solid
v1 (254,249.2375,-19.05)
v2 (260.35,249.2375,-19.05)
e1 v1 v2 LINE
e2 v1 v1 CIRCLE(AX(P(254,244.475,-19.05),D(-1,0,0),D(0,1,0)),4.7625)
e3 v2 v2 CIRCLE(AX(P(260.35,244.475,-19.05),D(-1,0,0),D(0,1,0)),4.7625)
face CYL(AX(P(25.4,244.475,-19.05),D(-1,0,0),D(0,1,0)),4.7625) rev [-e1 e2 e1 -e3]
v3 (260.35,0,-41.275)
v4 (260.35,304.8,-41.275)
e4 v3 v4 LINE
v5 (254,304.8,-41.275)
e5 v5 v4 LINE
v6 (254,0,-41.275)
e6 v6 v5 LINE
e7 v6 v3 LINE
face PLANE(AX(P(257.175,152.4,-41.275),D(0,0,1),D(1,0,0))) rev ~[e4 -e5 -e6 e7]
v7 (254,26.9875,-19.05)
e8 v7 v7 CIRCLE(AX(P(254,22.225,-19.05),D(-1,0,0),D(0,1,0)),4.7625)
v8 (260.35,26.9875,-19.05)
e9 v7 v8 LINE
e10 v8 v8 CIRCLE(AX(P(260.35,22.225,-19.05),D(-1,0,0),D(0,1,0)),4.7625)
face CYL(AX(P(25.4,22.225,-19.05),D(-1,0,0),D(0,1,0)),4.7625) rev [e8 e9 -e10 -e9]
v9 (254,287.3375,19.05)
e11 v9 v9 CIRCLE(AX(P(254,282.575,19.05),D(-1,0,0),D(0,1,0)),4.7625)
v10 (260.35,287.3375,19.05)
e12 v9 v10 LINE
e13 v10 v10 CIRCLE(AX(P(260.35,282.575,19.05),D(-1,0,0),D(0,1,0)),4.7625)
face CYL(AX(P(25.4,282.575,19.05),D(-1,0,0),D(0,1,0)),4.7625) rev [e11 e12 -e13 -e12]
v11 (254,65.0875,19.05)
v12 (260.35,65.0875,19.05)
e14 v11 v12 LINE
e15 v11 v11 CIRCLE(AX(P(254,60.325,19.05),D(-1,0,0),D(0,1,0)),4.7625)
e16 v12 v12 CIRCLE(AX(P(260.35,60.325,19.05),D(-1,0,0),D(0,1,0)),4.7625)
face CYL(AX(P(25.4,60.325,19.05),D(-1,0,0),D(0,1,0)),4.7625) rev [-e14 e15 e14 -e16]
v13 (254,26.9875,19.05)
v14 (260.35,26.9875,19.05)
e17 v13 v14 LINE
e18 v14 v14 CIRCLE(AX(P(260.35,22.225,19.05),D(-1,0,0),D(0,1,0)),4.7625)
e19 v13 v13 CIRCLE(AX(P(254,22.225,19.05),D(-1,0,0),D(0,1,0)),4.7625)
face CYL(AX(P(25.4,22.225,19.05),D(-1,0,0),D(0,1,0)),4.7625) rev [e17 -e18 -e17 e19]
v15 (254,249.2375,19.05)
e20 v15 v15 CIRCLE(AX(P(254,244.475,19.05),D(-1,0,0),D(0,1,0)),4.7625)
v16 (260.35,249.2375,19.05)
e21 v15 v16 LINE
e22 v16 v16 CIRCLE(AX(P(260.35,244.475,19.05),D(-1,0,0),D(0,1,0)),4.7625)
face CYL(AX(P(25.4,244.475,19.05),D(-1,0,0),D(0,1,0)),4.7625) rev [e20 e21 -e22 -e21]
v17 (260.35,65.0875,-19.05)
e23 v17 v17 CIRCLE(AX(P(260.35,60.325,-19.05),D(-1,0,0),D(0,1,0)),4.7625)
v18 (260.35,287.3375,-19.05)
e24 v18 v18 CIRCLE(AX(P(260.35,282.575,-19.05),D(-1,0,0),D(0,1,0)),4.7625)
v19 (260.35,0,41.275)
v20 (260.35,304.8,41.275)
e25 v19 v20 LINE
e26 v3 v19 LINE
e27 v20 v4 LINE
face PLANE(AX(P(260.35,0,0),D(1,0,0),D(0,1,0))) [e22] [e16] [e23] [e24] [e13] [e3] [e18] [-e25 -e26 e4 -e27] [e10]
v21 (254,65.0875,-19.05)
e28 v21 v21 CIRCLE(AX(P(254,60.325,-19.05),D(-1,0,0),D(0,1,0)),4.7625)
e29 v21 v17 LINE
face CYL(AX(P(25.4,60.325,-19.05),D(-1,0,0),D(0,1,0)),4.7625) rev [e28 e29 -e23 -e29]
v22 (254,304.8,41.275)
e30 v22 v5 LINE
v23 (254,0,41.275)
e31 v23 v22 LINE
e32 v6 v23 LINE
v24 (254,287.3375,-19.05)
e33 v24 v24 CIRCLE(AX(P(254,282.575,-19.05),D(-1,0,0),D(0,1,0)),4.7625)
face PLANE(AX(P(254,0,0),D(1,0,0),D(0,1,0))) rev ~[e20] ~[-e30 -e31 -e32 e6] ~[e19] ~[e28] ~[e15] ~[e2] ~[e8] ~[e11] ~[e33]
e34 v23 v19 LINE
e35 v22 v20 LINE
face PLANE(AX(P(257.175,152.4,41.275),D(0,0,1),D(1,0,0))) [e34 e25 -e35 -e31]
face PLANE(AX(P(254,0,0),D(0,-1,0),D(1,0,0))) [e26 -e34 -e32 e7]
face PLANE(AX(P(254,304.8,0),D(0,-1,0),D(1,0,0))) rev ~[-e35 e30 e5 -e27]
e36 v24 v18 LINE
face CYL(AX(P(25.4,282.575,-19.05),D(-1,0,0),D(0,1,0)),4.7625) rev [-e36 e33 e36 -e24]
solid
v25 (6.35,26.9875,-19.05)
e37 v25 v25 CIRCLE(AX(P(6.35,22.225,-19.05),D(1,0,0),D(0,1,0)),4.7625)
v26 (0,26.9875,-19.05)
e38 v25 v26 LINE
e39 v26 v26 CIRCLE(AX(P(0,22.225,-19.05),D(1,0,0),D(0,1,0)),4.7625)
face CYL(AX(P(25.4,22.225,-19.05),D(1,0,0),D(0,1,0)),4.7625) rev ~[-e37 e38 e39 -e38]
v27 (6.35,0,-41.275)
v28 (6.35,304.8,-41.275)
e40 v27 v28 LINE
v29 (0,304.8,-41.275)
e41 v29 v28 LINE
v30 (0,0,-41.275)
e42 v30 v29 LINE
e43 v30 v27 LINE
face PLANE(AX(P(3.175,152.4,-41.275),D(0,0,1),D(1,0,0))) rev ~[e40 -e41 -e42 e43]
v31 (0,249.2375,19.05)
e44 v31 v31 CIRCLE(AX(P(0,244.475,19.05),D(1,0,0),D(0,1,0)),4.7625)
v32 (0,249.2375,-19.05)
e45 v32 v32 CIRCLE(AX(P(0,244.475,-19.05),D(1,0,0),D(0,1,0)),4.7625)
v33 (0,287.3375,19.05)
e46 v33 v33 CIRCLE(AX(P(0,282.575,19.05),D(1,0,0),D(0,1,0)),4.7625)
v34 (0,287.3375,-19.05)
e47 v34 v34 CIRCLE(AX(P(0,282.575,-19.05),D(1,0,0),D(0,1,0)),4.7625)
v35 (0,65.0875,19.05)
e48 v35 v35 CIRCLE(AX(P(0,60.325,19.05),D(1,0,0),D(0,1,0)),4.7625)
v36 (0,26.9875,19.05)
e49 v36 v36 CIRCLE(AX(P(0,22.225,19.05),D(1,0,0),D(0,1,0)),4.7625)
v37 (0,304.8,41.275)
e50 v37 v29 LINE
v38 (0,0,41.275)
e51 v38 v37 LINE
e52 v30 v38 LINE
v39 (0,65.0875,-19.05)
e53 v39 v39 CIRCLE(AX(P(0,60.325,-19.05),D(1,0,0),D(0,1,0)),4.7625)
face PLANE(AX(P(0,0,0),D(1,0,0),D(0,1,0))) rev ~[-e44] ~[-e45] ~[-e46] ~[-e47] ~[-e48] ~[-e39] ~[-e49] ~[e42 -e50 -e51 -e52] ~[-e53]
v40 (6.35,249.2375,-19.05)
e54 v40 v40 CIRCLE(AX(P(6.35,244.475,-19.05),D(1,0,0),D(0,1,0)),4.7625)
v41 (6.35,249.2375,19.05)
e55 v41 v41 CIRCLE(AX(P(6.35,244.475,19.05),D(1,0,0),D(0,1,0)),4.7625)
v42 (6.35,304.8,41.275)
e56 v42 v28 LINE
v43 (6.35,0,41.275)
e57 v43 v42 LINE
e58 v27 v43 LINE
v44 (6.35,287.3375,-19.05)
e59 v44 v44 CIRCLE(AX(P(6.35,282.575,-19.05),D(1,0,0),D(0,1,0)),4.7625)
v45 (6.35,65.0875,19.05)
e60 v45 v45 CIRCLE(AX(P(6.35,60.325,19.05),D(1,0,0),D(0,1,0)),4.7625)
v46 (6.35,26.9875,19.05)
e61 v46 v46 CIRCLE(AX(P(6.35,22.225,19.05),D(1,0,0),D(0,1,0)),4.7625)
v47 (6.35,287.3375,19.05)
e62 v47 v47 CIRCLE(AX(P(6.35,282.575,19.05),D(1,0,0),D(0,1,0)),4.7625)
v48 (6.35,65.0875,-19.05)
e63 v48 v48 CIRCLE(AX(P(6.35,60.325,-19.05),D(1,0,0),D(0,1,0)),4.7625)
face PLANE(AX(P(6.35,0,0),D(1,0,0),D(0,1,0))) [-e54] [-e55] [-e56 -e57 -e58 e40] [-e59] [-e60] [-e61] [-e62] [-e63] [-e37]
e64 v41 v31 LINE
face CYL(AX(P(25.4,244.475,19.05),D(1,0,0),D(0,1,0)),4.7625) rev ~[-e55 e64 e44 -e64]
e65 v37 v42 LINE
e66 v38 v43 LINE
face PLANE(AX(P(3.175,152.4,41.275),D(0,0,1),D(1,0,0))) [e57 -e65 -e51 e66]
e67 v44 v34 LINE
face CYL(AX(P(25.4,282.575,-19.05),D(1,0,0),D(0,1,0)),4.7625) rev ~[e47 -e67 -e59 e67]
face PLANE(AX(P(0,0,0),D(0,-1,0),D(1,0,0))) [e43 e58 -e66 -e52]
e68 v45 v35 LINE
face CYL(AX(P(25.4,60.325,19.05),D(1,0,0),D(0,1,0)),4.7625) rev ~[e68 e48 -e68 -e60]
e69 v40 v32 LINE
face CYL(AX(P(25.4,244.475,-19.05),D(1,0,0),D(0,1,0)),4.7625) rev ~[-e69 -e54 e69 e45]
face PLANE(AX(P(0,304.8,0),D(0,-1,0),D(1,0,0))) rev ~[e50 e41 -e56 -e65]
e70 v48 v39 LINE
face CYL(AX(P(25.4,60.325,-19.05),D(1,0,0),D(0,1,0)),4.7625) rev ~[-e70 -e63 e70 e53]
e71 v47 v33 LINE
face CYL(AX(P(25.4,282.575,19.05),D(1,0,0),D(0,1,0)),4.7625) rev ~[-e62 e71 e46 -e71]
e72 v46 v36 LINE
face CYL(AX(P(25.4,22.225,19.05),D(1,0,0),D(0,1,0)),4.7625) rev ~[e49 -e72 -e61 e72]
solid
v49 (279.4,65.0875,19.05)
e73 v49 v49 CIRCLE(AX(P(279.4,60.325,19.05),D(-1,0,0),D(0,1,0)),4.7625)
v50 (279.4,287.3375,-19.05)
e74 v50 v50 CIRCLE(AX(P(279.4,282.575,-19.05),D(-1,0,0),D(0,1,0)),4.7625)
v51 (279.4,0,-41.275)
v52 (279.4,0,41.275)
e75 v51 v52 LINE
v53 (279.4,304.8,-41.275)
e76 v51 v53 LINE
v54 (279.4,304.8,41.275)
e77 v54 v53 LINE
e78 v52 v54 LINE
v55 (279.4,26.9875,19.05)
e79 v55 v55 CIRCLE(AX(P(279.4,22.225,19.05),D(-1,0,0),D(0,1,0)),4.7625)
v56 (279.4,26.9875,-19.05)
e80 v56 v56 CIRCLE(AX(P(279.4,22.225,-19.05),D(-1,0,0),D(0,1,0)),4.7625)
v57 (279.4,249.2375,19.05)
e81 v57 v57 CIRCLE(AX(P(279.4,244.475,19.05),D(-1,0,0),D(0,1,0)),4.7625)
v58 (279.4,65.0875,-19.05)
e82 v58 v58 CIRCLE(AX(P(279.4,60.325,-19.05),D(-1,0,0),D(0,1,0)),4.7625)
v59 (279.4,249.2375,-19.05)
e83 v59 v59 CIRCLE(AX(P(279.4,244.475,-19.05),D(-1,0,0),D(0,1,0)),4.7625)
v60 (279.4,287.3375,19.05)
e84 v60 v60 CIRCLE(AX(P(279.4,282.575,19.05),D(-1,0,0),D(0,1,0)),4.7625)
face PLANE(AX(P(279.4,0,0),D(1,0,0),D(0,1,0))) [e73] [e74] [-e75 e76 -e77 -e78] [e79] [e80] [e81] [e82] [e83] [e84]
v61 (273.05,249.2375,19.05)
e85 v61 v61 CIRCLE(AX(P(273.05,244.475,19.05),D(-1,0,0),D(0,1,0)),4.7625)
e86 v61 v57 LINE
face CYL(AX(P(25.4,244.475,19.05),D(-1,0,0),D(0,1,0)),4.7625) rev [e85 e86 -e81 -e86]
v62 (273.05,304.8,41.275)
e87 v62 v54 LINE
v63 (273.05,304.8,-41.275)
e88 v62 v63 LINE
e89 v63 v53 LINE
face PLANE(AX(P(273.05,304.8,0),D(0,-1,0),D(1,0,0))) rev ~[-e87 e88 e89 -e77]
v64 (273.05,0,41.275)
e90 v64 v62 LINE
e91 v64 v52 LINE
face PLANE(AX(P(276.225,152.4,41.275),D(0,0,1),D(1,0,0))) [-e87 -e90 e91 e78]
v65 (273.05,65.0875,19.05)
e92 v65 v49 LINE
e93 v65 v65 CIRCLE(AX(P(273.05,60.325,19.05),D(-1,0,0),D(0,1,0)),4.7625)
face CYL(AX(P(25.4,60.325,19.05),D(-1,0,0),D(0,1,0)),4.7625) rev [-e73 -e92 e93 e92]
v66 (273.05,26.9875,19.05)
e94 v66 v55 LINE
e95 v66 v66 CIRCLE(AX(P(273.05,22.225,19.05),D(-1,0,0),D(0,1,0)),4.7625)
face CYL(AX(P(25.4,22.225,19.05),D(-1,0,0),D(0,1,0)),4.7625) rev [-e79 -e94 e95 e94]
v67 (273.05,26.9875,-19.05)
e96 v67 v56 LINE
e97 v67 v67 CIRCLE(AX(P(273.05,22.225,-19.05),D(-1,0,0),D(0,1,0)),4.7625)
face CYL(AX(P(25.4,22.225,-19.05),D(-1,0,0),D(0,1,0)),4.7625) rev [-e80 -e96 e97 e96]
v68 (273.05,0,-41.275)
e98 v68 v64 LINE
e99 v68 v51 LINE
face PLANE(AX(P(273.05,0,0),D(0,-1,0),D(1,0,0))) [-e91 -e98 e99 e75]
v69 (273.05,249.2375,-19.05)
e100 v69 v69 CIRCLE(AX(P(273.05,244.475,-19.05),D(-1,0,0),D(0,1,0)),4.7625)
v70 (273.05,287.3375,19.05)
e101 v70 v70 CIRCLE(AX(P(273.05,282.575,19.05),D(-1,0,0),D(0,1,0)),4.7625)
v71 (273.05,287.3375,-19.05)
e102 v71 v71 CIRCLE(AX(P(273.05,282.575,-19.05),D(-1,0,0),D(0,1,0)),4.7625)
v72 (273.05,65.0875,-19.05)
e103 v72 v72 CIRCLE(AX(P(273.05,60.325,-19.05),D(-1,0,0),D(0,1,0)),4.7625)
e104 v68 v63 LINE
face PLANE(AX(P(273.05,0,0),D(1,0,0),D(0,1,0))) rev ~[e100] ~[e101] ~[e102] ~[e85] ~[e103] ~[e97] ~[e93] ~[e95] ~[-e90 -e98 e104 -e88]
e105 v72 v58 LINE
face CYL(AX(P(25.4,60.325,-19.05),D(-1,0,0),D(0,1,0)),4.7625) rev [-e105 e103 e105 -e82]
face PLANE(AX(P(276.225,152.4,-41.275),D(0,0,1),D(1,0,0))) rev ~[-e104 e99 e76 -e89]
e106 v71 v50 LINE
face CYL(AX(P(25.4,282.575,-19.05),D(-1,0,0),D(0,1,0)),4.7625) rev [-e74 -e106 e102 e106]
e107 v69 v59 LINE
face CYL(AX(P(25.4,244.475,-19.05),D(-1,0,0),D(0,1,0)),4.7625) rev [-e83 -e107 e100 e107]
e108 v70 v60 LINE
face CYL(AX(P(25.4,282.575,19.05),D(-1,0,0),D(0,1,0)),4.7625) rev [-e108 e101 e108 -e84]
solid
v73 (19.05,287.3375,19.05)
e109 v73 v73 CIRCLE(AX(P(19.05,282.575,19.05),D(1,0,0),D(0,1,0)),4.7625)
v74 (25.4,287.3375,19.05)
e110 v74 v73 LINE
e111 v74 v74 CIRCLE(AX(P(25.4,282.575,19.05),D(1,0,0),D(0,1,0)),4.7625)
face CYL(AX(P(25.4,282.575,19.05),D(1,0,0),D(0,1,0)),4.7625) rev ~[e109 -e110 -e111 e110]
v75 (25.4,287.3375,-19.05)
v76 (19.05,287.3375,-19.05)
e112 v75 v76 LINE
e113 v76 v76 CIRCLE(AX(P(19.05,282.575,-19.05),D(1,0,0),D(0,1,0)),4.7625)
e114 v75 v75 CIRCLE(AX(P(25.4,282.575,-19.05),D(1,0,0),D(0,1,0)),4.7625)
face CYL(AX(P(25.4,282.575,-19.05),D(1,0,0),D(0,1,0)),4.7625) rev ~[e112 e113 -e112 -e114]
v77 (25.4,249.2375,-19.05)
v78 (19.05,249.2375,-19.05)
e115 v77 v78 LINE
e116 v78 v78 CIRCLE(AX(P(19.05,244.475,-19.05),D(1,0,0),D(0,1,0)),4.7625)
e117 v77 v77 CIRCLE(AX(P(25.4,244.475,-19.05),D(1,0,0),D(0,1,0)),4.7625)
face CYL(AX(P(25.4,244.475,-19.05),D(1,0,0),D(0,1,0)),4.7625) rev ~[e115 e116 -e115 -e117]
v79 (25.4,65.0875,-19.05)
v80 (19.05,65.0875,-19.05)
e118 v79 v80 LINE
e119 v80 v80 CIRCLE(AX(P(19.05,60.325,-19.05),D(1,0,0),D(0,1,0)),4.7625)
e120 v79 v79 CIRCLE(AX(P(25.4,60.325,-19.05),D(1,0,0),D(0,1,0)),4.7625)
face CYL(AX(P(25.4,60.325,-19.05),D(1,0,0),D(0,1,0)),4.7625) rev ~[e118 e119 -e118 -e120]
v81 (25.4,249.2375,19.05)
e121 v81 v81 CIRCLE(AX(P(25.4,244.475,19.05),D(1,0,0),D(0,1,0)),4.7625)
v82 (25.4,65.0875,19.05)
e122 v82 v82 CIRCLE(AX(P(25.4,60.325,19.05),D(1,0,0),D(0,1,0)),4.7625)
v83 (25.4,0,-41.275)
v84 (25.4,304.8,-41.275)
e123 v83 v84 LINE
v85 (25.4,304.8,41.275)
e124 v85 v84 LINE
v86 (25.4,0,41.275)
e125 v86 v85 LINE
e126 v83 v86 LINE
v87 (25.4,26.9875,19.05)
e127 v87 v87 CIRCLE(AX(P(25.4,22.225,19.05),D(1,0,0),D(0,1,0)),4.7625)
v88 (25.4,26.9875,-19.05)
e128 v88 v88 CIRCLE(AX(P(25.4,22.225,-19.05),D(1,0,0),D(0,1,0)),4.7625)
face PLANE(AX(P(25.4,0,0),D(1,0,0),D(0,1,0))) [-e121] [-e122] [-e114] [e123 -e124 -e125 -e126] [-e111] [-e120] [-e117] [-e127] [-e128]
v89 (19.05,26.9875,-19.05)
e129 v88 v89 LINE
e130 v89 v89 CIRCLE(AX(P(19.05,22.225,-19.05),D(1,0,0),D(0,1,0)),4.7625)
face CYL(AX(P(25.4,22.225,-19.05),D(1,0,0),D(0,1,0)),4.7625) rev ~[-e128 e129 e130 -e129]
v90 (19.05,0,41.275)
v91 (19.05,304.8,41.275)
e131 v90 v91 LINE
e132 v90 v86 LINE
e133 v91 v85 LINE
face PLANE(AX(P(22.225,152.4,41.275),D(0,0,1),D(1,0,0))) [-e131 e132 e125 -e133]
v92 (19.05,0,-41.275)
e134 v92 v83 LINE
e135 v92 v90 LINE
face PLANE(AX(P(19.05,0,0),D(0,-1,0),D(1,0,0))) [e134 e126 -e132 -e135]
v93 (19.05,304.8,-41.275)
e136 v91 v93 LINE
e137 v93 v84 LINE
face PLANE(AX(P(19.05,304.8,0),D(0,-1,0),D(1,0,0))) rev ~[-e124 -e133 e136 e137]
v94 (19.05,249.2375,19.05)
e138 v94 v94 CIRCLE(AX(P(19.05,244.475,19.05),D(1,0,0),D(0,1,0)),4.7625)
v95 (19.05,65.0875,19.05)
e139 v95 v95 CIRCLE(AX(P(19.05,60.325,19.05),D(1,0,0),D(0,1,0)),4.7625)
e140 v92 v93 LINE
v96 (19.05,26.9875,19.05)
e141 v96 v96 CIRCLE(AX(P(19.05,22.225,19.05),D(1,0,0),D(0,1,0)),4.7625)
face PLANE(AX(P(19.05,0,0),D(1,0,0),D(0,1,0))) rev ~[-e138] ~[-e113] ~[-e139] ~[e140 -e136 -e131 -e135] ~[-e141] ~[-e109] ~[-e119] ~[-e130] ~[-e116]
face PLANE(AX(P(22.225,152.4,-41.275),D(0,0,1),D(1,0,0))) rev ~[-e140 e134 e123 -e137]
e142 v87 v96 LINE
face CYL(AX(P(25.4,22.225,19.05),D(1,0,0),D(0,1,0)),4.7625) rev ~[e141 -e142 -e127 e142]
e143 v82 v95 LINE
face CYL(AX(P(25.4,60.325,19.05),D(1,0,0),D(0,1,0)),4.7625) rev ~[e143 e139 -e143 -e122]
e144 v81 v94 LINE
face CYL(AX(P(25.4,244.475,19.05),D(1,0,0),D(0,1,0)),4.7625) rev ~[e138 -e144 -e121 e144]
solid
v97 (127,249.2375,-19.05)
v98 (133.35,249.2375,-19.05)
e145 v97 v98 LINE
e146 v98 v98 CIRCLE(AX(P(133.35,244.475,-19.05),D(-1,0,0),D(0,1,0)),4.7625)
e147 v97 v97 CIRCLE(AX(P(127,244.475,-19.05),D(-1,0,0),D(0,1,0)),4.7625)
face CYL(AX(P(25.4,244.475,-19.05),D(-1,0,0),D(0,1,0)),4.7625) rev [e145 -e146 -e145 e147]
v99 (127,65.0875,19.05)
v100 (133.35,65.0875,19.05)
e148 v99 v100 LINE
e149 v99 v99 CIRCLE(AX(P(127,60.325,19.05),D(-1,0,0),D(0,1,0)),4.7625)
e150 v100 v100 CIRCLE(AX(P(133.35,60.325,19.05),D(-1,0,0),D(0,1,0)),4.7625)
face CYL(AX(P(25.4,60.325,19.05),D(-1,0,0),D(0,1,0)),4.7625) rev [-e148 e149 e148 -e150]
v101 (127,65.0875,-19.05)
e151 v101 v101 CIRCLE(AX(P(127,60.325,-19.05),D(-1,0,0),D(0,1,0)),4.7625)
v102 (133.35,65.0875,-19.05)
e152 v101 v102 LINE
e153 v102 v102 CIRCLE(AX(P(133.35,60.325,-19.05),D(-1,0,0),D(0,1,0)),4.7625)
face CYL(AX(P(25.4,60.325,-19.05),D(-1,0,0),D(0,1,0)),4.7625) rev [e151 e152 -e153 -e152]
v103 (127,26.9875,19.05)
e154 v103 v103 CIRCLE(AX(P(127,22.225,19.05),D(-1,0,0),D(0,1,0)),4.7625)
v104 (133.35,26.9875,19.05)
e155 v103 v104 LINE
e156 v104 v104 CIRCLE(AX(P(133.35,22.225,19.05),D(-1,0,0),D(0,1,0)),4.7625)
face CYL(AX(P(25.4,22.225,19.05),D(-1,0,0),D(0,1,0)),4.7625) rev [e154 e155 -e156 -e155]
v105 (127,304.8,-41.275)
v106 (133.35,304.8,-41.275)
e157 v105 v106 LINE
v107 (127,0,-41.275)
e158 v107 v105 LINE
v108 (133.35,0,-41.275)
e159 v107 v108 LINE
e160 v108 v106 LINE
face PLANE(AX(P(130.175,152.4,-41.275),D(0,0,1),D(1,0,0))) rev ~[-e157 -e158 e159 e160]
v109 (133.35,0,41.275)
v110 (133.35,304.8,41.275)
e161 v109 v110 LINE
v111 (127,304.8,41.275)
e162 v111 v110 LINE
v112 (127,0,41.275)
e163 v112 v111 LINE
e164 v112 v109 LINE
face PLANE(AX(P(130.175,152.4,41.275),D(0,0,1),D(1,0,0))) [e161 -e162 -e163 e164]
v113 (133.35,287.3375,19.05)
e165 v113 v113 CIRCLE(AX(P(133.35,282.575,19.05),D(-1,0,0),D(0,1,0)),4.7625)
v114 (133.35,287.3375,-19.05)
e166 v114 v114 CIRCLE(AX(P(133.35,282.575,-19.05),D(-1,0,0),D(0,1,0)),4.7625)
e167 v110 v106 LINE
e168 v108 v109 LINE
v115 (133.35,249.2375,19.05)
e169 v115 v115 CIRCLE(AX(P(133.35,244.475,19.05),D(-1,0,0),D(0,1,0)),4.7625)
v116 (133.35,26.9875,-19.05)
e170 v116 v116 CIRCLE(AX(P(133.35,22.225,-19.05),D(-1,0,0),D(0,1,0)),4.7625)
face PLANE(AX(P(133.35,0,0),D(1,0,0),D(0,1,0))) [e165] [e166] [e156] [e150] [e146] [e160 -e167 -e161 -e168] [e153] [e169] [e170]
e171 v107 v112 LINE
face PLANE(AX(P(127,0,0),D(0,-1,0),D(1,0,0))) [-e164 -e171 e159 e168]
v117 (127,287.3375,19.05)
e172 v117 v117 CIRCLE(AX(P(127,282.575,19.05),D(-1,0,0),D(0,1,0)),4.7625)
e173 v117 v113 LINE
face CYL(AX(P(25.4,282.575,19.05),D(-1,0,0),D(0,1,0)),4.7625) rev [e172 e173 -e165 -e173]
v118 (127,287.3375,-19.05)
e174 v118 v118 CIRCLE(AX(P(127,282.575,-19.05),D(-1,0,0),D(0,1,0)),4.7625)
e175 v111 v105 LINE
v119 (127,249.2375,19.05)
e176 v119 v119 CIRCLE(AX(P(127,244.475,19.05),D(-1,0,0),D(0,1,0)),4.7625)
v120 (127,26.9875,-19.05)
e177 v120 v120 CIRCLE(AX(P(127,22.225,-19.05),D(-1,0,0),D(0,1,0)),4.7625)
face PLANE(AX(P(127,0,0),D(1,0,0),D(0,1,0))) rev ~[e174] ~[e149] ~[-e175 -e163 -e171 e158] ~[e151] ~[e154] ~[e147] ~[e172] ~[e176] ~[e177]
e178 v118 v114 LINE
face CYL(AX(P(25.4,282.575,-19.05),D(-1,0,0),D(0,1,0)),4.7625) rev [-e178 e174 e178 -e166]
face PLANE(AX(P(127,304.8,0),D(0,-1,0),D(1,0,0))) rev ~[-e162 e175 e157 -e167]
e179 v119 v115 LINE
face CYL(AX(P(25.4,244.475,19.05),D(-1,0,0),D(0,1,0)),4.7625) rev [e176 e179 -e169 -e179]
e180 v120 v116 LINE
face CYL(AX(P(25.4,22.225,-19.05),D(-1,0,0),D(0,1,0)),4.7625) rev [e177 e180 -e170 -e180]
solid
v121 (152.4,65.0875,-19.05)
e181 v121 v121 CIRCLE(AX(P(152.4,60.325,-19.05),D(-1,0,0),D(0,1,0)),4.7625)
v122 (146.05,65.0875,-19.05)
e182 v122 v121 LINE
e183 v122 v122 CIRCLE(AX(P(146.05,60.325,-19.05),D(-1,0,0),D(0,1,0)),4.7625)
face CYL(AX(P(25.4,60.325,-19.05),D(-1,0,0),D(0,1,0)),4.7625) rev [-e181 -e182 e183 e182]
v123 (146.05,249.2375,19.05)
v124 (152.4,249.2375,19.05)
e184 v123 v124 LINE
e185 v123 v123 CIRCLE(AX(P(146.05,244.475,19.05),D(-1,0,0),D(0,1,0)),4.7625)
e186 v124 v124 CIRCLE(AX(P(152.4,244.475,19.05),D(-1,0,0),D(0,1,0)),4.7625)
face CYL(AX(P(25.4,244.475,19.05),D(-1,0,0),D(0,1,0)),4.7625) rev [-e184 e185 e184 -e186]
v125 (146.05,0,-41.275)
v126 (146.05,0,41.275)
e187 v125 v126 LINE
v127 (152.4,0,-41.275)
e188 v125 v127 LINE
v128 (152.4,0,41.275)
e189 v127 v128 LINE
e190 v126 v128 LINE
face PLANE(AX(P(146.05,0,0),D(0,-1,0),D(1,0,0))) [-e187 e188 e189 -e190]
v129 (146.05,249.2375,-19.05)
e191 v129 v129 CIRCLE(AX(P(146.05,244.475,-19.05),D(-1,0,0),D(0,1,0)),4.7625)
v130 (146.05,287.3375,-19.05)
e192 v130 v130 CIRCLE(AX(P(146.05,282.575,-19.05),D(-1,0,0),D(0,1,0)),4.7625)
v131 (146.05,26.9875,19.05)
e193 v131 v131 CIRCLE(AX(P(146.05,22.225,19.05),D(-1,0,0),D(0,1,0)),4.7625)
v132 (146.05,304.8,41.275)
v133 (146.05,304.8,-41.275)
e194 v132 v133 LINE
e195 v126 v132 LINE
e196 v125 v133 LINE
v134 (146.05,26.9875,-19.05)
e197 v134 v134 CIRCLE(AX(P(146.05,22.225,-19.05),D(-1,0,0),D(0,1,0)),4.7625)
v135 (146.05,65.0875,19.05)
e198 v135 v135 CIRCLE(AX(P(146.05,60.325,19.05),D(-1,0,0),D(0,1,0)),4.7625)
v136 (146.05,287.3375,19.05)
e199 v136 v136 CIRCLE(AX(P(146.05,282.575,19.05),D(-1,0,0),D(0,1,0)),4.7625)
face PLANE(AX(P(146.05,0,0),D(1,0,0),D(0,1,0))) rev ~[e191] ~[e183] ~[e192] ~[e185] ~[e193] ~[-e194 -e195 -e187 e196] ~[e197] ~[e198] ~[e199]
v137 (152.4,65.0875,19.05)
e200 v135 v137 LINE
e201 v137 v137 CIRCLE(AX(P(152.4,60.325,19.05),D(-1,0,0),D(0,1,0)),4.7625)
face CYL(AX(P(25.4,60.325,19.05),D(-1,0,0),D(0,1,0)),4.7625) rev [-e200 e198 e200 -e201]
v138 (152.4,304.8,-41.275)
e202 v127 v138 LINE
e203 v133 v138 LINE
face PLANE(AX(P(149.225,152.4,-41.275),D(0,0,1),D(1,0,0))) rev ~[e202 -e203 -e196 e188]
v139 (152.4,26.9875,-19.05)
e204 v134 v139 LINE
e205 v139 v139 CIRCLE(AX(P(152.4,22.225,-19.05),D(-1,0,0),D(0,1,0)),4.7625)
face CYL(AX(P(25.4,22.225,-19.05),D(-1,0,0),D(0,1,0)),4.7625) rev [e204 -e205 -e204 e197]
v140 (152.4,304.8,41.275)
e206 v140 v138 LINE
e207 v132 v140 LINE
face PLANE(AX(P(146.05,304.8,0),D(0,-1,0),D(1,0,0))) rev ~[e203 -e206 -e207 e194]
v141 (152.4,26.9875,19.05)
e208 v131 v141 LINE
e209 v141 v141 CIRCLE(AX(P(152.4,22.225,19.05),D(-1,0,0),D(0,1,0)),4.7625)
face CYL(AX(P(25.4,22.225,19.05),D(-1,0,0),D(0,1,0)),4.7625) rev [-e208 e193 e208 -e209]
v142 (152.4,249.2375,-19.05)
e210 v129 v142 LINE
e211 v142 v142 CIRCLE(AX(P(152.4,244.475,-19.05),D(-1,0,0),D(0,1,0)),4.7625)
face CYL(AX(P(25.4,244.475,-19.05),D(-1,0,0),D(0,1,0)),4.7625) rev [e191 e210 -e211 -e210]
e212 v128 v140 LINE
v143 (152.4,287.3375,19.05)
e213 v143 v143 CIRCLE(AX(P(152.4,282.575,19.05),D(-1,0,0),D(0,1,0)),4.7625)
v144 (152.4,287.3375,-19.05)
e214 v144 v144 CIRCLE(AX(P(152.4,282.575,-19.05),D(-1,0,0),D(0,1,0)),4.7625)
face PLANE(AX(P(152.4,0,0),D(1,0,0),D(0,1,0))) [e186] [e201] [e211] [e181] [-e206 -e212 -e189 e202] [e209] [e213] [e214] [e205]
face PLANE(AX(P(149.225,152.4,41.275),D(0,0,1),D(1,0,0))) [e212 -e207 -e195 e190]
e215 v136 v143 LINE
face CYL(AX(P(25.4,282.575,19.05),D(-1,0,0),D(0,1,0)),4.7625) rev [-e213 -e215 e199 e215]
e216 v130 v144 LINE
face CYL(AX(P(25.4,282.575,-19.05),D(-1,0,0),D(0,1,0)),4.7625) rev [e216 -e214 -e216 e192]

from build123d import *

# Parameters (mm, degrees)
F0_W          = 6.35
F0_H          = 304.8
F1_DEPTH      = 41.275
F2_R          = 4.7625
F3_DEPTH      = 25.401
F3_DEPTH_BACK = 254.001


with BuildPart() as f1:
    # F0 (on Top) → F1 (new body, symmetric)
    with BuildSketch(Plane.XY):
        with Locations((3.175, 152.4)):
            Rectangle(F0_W, F0_H)
    extrude(amount=F1_DEPTH, both=True)


with BuildPart() as f1b:
    # F0 (on Top) → F1, piece 2 (new body, symmetric)
    with BuildSketch(Plane.XY):
        with Locations((22.225, 152.4)):
            Rectangle(F0_W, F0_H)
    extrude(amount=F1_DEPTH, both=True)


with BuildPart() as f1c:
    # F0 (on Top) → F1, piece 3 (new body, symmetric)
    with BuildSketch(Plane.XY):
        with Locations((130.175, 152.4)):
            Rectangle(F0_W, F0_H)
    extrude(amount=F1_DEPTH, both=True)


with BuildPart() as f1d:
    # F0 (on Top) → F1, piece 4 (new body, symmetric)
    with BuildSketch(Plane.XY):
        with Locations((149.225, 152.4)):
            Rectangle(F0_W, F0_H)
    extrude(amount=F1_DEPTH, both=True)


with BuildPart() as f1e:
    # F0 (on Top) → F1, piece 5 (new body, symmetric)
    with BuildSketch(Plane.XY):
        with Locations((257.175, 152.4)):
            Rectangle(F0_W, F0_H)
    extrude(amount=F1_DEPTH, both=True)


with BuildPart() as f1f:
    # F0 (on Top) → F1, piece 6 (new body, symmetric)
    with BuildSketch(Plane.XY):
        with Locations((276.225, 152.4)):
            Rectangle(F0_W, F0_H)
    extrude(amount=F1_DEPTH, both=True)


with BuildPart() as f3_tool:
    # F2 (on face) → F3 (new body, two sides)
    with BuildSketch(Plane.YZ.offset(25.4)) as f3_sk:
        with Locations((282.575, 19.05)):
            Circle(F2_R)
        with Locations((282.575, -19.05)):
            Circle(F2_R)
        with Locations((244.475, -19.05)):
            Circle(F2_R)
        with Locations((244.475, 19.05)):
            Circle(F2_R)
        with Locations((60.325, 19.05)):
            Circle(F2_R)
        with Locations((60.325, -19.05)):
            Circle(F2_R)
        with Locations((22.225, -19.05)):
            Circle(F2_R)
        with Locations((22.225, 19.05)):
            Circle(F2_R)
    extrude(amount=-F3_DEPTH)
    extrude(f3_sk.sketch, amount=F3_DEPTH_BACK)


with BuildPart() as f1_1:
    add(f1.part)

    # F3: cut by f3_tool
    add(f3_tool.part, mode=Mode.SUBTRACT)


with BuildPart() as f1b_1:
    add(f1b.part)

    # F3: cut by f3_tool
    add(f3_tool.part, mode=Mode.SUBTRACT)


with BuildPart() as f1c_1:
    add(f1c.part)

    # F3: cut by f3_tool
    add(f3_tool.part, mode=Mode.SUBTRACT)


with BuildPart() as f1d_1:
    add(f1d.part)

    # F3: cut by f3_tool
    add(f3_tool.part, mode=Mode.SUBTRACT)


with BuildPart() as f1e_1:
    add(f1e.part)

    # F3: cut by f3_tool
    add(f3_tool.part, mode=Mode.SUBTRACT)


with BuildPart() as f1f_1:
    add(f1f.part)

    # F3: cut by f3_tool
    add(f3_tool.part, mode=Mode.SUBTRACT)


solid = Compound([f1_1.part, f1b_1.part, f1c_1.part, f1d_1.part, f1e_1.part, f1f_1.part])
